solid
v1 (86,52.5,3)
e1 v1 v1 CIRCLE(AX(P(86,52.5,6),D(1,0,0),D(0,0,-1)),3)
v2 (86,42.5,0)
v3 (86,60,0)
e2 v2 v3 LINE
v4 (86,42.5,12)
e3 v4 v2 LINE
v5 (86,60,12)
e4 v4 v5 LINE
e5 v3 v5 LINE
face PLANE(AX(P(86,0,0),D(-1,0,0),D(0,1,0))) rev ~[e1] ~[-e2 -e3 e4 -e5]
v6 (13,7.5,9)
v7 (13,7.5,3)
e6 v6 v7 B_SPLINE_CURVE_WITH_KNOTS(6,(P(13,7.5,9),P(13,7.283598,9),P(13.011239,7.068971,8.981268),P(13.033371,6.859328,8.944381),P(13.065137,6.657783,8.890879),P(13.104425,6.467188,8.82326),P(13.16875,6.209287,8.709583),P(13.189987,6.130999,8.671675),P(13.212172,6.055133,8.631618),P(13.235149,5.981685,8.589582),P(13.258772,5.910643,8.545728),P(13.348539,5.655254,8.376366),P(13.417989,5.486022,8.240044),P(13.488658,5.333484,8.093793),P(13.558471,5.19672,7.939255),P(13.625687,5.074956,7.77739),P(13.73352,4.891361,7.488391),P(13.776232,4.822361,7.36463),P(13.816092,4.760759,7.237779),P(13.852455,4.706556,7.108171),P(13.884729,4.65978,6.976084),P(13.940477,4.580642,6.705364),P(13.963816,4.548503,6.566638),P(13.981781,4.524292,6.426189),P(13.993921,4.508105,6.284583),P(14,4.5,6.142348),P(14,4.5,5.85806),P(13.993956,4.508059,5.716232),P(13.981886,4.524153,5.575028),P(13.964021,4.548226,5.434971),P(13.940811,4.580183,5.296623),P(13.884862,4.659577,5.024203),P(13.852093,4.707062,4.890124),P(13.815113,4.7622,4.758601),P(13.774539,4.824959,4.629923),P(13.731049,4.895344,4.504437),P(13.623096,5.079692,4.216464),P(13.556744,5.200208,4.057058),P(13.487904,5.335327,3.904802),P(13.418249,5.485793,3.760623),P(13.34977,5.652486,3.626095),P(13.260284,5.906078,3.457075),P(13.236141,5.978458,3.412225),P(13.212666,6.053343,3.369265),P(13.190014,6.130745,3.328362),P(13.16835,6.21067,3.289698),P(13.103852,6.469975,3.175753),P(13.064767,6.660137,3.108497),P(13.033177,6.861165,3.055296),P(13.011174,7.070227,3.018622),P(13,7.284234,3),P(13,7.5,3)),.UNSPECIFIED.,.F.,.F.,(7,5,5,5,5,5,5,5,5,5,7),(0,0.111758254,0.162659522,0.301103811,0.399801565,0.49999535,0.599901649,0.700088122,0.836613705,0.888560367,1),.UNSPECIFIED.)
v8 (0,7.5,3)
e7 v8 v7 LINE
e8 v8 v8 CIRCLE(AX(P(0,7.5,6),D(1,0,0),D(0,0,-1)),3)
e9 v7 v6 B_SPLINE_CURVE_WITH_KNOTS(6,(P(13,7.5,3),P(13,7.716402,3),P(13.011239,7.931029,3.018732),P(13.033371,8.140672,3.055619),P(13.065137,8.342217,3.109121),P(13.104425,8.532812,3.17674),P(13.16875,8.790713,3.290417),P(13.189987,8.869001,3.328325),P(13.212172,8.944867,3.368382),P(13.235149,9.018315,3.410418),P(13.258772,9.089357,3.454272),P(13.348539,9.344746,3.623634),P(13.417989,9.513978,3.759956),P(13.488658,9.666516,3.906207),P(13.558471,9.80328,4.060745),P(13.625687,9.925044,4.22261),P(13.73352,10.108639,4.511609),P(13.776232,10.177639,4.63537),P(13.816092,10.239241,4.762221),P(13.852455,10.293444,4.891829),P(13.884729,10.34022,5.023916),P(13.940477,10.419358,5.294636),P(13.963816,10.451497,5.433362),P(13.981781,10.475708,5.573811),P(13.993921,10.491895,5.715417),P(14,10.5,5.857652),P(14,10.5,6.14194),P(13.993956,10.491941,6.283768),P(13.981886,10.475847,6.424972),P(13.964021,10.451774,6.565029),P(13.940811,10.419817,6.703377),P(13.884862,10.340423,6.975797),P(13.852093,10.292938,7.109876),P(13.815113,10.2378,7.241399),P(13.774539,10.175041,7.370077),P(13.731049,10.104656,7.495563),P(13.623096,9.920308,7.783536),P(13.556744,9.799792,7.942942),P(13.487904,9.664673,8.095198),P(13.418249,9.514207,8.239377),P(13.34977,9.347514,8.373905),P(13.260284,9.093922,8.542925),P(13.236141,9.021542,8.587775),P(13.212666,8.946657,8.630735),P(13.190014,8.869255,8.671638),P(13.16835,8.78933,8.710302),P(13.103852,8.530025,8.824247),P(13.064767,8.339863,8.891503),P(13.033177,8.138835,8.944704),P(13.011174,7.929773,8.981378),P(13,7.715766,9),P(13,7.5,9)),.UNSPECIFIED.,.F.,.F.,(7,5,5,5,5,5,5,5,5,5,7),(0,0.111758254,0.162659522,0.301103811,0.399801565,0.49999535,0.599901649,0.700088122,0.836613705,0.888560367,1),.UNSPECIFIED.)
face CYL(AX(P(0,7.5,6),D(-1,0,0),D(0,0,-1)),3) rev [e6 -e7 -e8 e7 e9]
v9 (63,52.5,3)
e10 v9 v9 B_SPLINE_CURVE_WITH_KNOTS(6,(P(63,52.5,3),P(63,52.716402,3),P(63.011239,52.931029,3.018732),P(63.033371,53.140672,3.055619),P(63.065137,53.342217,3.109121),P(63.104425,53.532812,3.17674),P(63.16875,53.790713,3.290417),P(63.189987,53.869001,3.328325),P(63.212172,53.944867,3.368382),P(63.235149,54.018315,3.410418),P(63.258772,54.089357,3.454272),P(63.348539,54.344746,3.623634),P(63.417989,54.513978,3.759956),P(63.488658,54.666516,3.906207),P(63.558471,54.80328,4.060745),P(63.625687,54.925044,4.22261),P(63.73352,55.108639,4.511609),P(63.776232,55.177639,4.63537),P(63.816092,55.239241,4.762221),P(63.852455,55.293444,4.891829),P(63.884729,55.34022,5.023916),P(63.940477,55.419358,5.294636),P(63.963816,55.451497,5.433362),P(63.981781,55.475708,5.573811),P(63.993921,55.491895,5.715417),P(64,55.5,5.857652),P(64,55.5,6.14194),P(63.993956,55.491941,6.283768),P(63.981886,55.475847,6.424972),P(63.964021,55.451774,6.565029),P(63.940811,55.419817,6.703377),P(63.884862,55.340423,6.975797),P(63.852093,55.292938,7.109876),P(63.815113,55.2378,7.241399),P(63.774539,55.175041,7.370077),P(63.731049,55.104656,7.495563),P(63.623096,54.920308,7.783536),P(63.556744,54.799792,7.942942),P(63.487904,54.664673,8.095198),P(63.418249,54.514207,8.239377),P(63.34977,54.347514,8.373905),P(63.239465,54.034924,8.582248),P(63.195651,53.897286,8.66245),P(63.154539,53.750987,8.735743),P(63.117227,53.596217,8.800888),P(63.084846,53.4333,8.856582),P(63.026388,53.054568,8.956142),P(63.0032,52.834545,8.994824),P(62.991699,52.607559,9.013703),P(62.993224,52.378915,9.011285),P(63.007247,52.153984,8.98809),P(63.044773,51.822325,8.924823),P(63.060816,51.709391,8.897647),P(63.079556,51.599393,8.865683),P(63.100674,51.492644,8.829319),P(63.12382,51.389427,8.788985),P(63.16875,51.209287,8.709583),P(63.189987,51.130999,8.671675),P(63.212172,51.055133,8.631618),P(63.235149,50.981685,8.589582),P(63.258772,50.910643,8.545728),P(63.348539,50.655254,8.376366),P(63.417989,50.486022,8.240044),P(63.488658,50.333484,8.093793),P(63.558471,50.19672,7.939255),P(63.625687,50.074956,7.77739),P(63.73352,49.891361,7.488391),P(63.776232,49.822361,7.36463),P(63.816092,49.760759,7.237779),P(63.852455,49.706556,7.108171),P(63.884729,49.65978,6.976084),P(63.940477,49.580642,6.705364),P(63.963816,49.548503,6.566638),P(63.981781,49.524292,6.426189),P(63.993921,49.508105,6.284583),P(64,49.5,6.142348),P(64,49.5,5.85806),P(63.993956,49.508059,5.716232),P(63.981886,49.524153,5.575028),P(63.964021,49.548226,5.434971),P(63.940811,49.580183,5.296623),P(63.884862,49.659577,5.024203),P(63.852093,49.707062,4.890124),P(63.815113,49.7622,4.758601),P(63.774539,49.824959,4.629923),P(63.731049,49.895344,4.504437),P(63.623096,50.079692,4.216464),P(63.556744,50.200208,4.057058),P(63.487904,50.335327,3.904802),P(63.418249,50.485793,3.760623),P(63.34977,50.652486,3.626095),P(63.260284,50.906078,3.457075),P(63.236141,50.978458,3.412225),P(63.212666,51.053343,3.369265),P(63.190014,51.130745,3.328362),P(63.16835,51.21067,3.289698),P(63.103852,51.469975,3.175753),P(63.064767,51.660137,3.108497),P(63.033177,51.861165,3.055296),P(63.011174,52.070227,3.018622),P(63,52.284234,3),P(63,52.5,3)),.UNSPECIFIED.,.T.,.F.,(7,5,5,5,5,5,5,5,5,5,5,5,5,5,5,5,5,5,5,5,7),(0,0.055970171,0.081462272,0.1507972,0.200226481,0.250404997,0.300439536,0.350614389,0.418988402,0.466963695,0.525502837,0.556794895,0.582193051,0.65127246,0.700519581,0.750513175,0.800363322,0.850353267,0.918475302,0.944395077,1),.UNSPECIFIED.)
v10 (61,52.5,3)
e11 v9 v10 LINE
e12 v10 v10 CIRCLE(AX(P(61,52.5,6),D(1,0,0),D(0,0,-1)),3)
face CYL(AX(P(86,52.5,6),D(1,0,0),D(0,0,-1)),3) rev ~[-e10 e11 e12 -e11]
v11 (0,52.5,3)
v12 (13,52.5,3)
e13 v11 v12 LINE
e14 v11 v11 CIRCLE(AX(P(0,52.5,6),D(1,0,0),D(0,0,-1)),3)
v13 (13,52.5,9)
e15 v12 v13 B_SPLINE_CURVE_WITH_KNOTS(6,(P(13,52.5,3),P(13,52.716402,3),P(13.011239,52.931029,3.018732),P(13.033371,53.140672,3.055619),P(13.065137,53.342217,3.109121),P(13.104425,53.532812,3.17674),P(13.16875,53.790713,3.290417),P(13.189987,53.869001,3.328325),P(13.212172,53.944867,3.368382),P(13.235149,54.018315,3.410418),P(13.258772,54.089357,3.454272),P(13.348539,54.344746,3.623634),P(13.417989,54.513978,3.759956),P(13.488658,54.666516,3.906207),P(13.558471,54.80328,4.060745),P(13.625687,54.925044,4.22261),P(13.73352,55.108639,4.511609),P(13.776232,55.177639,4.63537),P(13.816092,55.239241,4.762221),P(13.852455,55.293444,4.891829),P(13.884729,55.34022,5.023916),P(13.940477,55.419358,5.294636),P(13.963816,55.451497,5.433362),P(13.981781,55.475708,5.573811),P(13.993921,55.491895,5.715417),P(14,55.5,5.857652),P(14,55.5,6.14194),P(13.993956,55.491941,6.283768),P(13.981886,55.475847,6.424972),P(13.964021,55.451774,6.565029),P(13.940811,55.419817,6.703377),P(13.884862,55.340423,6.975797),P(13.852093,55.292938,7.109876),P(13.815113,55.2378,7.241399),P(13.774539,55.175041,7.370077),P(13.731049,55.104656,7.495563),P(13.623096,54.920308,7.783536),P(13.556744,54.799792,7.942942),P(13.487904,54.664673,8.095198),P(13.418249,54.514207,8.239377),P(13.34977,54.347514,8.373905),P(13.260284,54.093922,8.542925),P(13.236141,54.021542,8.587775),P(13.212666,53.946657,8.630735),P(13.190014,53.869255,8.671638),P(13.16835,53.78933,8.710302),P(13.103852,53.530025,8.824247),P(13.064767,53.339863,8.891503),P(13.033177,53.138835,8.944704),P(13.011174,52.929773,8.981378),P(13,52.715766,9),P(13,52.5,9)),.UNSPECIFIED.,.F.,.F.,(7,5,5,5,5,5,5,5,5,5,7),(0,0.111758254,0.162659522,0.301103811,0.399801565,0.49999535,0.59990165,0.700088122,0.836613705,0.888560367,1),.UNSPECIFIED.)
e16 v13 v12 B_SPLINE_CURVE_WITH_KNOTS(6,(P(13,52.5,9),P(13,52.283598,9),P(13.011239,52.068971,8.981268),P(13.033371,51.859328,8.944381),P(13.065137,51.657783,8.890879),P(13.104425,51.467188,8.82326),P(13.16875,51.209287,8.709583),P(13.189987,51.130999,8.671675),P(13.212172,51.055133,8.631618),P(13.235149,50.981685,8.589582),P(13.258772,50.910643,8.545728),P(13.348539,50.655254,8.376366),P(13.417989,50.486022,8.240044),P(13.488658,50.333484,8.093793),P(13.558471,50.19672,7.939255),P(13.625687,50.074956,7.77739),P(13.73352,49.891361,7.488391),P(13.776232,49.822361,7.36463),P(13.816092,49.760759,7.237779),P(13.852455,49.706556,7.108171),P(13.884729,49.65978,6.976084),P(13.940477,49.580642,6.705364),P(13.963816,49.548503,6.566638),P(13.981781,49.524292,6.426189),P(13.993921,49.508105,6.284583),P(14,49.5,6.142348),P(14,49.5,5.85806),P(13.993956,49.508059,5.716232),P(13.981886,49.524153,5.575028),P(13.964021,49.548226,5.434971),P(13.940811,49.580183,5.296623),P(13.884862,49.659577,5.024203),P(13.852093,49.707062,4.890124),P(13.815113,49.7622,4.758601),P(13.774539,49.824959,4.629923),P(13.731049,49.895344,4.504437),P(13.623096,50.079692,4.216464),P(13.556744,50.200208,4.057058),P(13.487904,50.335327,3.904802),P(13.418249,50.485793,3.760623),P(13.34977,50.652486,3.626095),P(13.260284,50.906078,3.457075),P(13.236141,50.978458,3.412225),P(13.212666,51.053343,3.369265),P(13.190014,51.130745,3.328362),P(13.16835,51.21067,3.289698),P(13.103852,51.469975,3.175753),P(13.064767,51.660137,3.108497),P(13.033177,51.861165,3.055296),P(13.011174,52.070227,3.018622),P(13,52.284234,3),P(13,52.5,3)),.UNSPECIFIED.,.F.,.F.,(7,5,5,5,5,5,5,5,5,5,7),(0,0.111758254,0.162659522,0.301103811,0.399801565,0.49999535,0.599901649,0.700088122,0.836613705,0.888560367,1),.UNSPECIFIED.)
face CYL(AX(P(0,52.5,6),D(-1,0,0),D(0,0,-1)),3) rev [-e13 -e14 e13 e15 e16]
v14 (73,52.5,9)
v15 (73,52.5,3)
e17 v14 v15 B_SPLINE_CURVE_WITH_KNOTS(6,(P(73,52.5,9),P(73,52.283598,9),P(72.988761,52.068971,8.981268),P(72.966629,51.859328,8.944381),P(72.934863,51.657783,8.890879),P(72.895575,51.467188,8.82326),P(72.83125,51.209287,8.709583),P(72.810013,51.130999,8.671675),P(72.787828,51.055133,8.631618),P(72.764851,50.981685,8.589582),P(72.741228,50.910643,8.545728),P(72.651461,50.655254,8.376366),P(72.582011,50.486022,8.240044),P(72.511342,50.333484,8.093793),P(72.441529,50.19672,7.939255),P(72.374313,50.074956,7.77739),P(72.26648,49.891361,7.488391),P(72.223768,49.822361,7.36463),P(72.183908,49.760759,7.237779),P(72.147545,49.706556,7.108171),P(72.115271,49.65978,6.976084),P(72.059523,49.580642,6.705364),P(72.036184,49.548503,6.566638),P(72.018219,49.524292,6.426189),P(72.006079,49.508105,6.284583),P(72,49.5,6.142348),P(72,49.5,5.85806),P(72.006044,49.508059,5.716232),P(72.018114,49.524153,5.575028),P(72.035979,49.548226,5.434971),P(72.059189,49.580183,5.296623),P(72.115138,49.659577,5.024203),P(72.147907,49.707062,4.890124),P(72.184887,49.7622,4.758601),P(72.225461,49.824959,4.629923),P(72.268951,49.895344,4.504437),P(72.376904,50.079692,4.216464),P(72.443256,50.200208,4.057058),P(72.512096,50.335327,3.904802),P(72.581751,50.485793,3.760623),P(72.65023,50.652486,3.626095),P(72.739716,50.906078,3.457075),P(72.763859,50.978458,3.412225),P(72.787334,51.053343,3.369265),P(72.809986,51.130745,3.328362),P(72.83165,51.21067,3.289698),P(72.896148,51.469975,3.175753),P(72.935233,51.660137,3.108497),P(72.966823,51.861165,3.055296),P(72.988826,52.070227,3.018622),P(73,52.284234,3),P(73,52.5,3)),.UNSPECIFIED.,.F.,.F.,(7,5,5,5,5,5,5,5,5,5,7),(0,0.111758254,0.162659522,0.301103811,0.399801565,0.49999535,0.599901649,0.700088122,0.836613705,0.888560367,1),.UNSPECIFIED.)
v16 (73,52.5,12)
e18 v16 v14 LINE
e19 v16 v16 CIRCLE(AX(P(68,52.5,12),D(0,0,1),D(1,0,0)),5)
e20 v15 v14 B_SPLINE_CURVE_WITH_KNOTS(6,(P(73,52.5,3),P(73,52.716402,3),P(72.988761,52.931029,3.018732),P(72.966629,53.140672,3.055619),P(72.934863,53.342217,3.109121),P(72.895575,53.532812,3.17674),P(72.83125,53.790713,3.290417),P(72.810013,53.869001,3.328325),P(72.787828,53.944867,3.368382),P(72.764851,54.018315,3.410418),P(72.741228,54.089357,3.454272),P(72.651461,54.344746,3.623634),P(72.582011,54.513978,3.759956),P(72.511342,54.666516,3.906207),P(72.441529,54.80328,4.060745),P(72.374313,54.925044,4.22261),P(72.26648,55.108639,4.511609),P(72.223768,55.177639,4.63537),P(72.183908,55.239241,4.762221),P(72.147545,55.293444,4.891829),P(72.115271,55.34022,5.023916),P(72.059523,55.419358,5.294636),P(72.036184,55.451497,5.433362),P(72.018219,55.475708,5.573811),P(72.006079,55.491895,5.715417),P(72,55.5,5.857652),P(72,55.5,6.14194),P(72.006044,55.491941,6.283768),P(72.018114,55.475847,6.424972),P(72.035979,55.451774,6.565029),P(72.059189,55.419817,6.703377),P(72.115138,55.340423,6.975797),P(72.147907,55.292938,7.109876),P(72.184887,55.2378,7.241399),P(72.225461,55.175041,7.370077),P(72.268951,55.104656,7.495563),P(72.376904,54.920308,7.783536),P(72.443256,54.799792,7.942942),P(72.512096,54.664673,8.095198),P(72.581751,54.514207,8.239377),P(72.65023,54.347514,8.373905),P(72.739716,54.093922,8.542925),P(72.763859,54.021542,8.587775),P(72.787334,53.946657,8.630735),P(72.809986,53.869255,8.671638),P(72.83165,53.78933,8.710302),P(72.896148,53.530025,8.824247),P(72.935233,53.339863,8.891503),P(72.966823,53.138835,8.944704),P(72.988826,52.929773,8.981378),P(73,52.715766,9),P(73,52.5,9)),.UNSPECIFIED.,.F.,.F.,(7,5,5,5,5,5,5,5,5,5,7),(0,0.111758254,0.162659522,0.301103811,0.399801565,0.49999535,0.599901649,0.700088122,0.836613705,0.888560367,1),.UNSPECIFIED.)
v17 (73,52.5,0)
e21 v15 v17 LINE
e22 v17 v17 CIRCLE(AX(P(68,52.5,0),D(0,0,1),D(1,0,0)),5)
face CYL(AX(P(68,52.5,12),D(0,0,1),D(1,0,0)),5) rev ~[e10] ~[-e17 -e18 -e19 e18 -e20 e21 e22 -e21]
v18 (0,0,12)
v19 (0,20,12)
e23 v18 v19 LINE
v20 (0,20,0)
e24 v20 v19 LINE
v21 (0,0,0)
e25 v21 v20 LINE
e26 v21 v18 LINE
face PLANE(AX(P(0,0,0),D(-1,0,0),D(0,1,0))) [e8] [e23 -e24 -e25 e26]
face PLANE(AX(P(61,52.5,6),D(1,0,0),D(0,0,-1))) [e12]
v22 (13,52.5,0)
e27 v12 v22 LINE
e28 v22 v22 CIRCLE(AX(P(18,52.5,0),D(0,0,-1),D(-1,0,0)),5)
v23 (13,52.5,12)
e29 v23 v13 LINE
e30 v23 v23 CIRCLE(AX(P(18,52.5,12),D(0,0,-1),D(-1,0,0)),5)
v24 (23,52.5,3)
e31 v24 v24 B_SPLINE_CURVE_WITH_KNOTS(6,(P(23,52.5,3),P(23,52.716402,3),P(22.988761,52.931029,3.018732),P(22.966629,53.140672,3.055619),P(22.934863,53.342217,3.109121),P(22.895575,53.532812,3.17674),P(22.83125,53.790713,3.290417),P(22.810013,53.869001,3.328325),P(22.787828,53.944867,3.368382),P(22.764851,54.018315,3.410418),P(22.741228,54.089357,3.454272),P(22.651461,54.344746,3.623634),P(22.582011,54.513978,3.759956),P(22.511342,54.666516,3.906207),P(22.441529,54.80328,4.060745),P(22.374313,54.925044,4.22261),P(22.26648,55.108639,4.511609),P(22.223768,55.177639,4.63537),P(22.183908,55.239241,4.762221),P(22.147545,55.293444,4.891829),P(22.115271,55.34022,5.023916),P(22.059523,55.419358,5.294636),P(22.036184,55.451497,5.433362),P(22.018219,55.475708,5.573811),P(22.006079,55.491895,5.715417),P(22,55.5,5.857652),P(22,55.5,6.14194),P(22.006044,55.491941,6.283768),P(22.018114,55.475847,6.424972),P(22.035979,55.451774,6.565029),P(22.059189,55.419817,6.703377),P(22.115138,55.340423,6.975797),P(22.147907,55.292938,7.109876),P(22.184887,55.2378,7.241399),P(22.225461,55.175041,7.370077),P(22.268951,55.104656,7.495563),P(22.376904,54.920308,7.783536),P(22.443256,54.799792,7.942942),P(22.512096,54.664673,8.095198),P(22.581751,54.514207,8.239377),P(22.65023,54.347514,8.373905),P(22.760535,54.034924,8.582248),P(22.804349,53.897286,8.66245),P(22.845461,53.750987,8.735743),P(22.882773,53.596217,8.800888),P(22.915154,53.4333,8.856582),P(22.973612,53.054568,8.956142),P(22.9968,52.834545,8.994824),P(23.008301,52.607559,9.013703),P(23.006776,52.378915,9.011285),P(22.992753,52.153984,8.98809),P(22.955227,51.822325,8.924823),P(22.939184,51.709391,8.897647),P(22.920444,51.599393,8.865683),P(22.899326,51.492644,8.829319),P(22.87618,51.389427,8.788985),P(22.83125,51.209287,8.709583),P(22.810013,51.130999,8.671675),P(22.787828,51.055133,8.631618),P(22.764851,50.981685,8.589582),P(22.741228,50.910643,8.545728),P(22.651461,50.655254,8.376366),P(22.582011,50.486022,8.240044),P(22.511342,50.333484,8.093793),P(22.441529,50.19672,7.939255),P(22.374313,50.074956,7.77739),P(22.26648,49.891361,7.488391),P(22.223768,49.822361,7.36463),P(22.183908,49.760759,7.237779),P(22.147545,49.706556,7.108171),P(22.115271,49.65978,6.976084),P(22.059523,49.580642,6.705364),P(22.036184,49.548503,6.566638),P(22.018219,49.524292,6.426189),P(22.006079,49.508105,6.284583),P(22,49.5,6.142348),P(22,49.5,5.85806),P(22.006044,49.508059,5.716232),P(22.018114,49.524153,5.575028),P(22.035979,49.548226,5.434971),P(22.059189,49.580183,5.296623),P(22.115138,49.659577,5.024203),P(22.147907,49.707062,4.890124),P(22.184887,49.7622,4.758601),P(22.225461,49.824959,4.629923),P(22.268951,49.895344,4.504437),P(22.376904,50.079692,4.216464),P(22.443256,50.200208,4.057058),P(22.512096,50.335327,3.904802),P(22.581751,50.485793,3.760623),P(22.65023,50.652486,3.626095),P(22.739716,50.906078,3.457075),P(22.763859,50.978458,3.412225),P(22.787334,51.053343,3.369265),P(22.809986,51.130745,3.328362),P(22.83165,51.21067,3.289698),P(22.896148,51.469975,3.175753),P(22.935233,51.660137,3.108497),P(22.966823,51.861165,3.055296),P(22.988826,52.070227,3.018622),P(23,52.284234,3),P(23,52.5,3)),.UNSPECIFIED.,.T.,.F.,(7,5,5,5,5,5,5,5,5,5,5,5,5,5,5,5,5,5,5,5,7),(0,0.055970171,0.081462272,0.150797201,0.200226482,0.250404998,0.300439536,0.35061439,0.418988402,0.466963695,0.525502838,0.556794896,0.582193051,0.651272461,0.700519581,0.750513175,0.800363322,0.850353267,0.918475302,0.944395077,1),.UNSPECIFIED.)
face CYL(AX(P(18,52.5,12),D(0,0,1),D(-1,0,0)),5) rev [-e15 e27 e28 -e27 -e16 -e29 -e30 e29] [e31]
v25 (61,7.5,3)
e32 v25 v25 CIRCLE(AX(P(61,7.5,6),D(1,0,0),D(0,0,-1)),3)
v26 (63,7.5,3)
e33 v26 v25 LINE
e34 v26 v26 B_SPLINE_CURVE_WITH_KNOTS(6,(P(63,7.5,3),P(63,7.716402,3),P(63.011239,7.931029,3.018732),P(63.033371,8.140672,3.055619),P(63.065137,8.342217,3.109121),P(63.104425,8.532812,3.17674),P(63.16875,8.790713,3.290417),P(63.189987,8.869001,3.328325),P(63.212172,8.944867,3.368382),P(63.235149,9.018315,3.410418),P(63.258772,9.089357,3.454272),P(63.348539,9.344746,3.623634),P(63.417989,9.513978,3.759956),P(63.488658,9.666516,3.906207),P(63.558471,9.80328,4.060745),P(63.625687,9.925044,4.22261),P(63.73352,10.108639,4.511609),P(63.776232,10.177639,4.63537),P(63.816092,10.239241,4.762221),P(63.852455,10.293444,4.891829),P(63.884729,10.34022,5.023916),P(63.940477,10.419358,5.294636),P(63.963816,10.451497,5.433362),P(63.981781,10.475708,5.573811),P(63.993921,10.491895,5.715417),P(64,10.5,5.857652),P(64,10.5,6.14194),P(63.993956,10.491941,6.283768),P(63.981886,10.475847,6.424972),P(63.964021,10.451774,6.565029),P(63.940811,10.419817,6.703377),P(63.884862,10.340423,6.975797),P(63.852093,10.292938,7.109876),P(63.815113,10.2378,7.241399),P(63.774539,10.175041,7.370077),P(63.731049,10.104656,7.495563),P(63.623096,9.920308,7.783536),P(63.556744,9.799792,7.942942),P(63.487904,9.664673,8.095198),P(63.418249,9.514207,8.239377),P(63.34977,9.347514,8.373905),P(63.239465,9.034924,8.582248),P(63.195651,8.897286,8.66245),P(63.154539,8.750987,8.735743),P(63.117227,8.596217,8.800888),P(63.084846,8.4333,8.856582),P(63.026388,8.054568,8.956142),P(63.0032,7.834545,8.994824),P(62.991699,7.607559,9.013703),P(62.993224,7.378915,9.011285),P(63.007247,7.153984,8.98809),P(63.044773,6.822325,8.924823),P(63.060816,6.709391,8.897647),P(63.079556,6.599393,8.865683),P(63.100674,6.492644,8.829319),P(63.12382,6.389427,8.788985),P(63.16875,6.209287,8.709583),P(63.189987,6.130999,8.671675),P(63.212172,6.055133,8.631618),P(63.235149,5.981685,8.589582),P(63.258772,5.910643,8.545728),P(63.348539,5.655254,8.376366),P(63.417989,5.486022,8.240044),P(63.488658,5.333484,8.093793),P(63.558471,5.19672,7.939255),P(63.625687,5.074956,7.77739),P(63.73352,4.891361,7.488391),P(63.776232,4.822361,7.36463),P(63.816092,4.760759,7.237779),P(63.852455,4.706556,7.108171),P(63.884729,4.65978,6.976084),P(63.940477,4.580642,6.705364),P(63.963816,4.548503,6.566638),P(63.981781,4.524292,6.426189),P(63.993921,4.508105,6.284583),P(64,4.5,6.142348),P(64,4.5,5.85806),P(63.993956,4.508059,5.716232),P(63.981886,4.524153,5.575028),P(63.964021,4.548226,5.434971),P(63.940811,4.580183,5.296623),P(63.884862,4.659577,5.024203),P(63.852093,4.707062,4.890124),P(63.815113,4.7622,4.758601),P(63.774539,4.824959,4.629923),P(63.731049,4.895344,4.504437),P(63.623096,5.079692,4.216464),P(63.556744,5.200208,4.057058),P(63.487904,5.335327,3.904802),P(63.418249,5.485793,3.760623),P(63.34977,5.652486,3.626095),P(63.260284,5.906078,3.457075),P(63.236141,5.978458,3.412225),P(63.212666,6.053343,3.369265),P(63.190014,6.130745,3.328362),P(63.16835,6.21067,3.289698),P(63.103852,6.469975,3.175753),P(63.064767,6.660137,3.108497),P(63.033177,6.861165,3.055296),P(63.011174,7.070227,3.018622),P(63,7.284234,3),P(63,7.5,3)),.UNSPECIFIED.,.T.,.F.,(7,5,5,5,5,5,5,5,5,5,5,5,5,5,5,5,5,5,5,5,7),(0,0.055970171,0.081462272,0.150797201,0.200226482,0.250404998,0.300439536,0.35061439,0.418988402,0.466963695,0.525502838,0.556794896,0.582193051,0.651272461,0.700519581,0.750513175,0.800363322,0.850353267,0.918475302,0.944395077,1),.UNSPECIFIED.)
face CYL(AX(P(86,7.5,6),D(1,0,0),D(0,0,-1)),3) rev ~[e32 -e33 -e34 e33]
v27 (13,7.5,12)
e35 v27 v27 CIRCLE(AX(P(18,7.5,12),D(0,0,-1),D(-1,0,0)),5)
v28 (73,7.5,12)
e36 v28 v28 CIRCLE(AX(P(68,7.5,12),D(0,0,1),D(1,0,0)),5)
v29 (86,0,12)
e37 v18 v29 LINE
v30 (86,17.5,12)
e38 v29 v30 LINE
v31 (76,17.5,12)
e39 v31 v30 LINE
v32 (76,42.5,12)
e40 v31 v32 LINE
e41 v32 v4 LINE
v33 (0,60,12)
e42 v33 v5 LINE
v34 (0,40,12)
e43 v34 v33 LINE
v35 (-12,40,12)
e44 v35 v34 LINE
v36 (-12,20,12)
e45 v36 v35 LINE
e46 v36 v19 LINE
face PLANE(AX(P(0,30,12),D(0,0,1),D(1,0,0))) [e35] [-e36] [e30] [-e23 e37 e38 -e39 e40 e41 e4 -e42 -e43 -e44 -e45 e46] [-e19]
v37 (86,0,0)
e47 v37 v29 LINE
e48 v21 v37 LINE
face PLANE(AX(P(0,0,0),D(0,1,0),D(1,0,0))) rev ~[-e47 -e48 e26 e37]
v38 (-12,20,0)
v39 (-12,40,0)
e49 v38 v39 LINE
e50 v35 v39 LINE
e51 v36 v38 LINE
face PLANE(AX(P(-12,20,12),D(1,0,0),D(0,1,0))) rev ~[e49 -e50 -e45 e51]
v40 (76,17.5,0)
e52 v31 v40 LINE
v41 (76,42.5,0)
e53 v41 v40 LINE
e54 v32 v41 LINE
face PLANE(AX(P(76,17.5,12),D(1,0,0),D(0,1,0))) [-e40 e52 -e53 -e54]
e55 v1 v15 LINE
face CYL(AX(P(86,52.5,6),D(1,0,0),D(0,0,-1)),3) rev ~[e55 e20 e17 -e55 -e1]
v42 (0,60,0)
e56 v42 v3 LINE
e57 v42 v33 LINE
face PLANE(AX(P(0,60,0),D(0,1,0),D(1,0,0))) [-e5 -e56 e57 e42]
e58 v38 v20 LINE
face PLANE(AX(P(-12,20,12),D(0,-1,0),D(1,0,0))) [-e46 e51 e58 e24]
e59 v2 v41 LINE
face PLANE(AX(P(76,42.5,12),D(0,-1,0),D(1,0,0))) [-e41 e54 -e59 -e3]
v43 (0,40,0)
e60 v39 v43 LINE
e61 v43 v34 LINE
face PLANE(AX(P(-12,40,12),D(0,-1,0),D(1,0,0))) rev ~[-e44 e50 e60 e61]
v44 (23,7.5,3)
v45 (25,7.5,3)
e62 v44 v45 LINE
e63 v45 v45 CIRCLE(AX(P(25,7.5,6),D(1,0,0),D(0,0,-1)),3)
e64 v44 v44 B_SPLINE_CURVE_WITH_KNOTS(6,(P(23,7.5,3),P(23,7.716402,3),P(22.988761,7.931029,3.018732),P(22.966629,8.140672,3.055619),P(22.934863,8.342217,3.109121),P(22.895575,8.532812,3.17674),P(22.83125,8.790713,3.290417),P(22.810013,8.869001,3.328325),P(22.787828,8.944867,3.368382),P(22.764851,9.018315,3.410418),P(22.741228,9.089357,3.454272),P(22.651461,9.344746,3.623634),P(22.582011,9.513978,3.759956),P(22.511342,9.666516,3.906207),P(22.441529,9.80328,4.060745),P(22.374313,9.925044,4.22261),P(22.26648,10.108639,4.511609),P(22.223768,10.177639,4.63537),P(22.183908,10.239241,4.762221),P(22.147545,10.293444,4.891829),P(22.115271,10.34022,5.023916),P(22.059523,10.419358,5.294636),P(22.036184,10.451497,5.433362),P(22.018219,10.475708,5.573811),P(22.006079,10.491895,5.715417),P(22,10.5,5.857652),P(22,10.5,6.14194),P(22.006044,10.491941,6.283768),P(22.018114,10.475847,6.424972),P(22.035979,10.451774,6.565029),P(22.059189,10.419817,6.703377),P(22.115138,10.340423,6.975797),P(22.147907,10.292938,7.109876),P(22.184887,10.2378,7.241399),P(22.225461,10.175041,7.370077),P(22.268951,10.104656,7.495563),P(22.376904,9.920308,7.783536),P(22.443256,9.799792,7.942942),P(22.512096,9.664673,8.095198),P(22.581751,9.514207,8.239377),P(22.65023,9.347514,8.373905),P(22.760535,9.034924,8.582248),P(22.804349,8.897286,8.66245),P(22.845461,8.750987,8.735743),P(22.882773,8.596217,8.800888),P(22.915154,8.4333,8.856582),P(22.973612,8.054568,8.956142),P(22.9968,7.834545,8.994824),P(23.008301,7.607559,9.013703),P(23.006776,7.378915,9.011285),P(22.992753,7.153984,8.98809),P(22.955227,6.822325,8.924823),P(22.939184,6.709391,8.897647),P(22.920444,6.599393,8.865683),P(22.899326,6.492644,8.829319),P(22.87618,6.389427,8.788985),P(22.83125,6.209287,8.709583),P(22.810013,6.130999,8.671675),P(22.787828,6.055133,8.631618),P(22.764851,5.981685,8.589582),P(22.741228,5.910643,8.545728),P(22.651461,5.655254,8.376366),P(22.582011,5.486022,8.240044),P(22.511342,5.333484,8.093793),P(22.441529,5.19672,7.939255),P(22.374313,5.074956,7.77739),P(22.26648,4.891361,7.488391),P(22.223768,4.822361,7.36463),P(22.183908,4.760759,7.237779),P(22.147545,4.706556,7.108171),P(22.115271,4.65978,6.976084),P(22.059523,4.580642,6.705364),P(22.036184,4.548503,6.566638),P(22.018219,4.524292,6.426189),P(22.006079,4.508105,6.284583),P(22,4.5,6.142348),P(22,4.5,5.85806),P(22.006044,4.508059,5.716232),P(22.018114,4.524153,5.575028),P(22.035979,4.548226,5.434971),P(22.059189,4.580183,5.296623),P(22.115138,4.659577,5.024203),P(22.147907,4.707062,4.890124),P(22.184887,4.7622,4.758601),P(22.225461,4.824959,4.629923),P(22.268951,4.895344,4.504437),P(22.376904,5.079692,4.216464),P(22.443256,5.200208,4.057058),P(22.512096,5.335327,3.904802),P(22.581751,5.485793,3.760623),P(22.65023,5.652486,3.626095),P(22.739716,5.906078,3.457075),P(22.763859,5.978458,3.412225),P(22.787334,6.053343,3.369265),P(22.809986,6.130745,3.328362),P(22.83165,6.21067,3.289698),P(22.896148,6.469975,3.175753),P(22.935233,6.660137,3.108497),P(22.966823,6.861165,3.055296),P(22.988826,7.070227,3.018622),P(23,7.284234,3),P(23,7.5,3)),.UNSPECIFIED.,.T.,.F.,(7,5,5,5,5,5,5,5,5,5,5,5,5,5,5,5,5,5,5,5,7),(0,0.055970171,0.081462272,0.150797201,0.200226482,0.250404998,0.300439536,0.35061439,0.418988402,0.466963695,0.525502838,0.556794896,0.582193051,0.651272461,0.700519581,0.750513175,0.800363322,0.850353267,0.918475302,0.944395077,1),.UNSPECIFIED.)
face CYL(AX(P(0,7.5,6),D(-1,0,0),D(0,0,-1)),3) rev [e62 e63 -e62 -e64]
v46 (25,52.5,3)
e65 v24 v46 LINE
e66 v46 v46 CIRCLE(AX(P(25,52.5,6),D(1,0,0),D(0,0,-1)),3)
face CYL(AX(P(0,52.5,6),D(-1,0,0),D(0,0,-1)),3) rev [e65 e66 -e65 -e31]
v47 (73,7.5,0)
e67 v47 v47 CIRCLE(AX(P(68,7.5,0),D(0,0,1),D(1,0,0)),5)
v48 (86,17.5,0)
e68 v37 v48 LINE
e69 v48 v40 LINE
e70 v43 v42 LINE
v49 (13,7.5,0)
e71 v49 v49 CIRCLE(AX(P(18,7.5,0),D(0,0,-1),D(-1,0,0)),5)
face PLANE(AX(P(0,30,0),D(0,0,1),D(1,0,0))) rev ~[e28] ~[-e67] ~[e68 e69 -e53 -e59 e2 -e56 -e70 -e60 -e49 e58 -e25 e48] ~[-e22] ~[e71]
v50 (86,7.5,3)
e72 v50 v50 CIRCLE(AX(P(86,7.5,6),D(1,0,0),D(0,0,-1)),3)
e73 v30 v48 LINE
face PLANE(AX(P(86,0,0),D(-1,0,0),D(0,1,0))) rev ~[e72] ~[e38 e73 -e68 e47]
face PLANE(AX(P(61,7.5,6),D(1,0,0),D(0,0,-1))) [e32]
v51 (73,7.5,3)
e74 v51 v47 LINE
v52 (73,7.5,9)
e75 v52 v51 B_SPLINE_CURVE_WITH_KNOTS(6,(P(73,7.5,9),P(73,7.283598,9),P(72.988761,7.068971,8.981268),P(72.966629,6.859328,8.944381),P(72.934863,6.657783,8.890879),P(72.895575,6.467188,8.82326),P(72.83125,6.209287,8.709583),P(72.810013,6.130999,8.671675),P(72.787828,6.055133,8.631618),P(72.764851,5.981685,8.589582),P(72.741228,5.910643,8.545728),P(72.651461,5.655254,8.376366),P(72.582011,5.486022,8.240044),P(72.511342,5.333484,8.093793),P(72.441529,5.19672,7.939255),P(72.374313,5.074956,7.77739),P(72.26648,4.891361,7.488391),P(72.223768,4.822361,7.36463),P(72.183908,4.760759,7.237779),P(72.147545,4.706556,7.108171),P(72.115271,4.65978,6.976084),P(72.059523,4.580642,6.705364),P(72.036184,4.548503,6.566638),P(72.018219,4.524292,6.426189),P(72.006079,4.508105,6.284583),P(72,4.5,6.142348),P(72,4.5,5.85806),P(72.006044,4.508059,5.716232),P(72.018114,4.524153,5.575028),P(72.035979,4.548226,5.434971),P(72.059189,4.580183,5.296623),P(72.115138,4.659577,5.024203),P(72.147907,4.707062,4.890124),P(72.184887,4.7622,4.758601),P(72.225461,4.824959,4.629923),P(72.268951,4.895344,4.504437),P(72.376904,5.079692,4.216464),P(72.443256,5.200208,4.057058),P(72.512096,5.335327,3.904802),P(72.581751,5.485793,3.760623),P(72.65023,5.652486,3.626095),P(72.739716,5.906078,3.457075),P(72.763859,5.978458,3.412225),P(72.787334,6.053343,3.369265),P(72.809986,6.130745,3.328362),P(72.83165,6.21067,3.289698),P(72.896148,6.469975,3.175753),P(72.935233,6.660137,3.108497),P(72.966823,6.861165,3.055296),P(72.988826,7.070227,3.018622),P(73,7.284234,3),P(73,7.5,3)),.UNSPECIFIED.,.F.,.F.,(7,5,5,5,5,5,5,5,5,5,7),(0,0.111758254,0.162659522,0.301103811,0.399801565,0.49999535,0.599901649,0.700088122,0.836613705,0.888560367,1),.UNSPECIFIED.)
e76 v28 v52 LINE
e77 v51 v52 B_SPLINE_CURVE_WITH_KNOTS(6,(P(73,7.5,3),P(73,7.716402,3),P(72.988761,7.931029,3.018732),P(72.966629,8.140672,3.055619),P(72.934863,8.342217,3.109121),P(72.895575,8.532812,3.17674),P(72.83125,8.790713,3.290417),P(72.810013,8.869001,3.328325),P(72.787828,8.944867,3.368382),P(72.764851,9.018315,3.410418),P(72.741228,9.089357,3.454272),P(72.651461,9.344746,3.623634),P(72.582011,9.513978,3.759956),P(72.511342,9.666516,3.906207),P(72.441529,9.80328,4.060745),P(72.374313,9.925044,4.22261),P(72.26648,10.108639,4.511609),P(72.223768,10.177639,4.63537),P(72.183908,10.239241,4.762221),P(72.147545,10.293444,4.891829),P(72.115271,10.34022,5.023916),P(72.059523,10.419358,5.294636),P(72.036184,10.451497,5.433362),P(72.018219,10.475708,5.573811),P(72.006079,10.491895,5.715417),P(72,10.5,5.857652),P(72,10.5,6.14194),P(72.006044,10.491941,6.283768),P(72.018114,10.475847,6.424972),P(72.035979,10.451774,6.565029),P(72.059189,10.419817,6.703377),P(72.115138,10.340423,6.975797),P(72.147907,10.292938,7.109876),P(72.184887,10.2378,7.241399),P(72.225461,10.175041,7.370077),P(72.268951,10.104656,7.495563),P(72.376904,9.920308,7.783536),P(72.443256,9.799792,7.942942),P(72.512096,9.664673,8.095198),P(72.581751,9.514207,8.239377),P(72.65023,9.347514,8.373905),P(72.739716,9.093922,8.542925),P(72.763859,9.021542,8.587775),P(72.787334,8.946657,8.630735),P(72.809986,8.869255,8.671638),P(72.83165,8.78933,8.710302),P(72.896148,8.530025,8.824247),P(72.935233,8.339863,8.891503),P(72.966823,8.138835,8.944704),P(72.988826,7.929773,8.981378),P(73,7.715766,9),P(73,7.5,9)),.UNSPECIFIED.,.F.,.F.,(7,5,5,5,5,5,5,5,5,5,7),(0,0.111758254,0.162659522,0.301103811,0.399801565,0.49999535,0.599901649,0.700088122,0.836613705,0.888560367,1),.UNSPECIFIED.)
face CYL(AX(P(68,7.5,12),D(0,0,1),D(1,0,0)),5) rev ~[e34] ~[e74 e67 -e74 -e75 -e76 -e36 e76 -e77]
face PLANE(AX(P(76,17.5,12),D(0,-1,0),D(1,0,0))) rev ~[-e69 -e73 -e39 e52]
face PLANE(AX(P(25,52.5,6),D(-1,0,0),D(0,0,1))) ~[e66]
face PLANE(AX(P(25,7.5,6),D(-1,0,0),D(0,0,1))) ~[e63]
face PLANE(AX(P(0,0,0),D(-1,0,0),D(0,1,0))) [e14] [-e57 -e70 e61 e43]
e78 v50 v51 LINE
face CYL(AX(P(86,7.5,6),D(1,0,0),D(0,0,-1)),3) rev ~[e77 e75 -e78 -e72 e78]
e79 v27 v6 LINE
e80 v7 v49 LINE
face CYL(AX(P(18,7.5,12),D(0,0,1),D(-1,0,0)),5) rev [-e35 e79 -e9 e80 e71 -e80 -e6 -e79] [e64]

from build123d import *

# Parameters (mm, degrees)
SKETCH1_W           = 86
SKETCH1_H           = 60
BOSS_EXTRUDE1_DEPTH = 12
CUT_EXTRUDE1_REACH  = 107.546
SKETCH2_W           = 20
SKETCH2_H           = 25
SKETCH3_W           = 24
SKETCH3_H           = 20
BOSS_EXTRUDE2_DEPTH = 12
CUT_EXTRUDE2_REACH  = 107.546
SKETCH4_R           = 5
SKETCH5_R           = 3
CUT_EXTRUDE3_DEPTH  = 25


with BuildPart() as part:
    # Sketch1 → Boss-Extrude1 (new body)
    with BuildSketch(Plane.XY):
        with Locations((43, 30)):
            Rectangle(SKETCH1_W, SKETCH1_H)
    extrude(amount=BOSS_EXTRUDE1_DEPTH)

    # Sketch2 → Cut-Extrude1 (cut, up to next)
    with BuildSketch(Plane.XY.offset(12), mode=Mode.PRIVATE) as cut_extrude1_sk1:
        with Locations((86, 30)):
            Rectangle(SKETCH2_W, SKETCH2_H)
    cut_extrude1_tool1 = extrude(cut_extrude1_sk1.sketch, amount=-CUT_EXTRUDE1_REACH, mode=Mode.PRIVATE) & part.part
    add(cut_extrude1_tool1.solids().sort_by_distance((86, 30, 12))[0], mode=Mode.SUBTRACT)

    # Sketch3 → Boss-Extrude2 (add)
    with BuildSketch(Plane.XY.offset(12)):
        with Locations((0, 30)):
            Rectangle(SKETCH3_W, SKETCH3_H)
    extrude(amount=-BOSS_EXTRUDE2_DEPTH)

    # Sketch4 → Cut-Extrude2 (cut, up to next)
    with BuildSketch(Plane.XY.offset(12), mode=Mode.PRIVATE) as cut_extrude2_sk1:
        with Locations((68, 52.5)):
            Circle(SKETCH4_R)
    cut_extrude2_tool1 = extrude(cut_extrude2_sk1.sketch, amount=-CUT_EXTRUDE2_REACH, mode=Mode.PRIVATE) & part.part
    # Sketch4 → Cut-Extrude2 (cut, up to next)
    with BuildSketch(Plane.XY.offset(12), mode=Mode.PRIVATE) as cut_extrude2_sk2:
        with Locations((68, 7.5)):
            Circle(SKETCH4_R)
    cut_extrude2_tool2 = extrude(cut_extrude2_sk2.sketch, amount=-CUT_EXTRUDE2_REACH, mode=Mode.PRIVATE) & part.part
    cut_extrude2_1 = cut_extrude2_tool1.solids().sort_by_distance((68, 52.5, 12))[0]
    add(cut_extrude2_1, mode=Mode.SUBTRACT)
    cut_extrude2_2 = cut_extrude2_tool2.solids().sort_by_distance((68, 7.5, 12))[0]
    add(cut_extrude2_2, mode=Mode.SUBTRACT)
    cut_extrude2 = cut_extrude2_1 + cut_extrude2_2  # Cut-Extrude2 as one shape, for the pattern or mirror that repeats it

    # Sketch5 → Cut-Extrude3 (cut)
    with BuildSketch(Plane(origin=(86, 0, 0), x_dir=(0, 0, -1), z_dir=(1, 0, 0))):
        with Locations((-6, 52.5)):
            Circle(SKETCH5_R)
        with Locations((-6, 7.5)):
            Circle(SKETCH5_R)
    cut_extrude3 = extrude(amount=-CUT_EXTRUDE3_DEPTH, mode=Mode.SUBTRACT)

    # Mirror2: Cut-Extrude2, Cut-Extrude3 across plane
    add(cut_extrude2.mirror(Plane.ZY.offset(-43)), mode=Mode.SUBTRACT)
    add(cut_extrude3.mirror(Plane.ZY.offset(-43)), mode=Mode.SUBTRACT)


solid = part.part
